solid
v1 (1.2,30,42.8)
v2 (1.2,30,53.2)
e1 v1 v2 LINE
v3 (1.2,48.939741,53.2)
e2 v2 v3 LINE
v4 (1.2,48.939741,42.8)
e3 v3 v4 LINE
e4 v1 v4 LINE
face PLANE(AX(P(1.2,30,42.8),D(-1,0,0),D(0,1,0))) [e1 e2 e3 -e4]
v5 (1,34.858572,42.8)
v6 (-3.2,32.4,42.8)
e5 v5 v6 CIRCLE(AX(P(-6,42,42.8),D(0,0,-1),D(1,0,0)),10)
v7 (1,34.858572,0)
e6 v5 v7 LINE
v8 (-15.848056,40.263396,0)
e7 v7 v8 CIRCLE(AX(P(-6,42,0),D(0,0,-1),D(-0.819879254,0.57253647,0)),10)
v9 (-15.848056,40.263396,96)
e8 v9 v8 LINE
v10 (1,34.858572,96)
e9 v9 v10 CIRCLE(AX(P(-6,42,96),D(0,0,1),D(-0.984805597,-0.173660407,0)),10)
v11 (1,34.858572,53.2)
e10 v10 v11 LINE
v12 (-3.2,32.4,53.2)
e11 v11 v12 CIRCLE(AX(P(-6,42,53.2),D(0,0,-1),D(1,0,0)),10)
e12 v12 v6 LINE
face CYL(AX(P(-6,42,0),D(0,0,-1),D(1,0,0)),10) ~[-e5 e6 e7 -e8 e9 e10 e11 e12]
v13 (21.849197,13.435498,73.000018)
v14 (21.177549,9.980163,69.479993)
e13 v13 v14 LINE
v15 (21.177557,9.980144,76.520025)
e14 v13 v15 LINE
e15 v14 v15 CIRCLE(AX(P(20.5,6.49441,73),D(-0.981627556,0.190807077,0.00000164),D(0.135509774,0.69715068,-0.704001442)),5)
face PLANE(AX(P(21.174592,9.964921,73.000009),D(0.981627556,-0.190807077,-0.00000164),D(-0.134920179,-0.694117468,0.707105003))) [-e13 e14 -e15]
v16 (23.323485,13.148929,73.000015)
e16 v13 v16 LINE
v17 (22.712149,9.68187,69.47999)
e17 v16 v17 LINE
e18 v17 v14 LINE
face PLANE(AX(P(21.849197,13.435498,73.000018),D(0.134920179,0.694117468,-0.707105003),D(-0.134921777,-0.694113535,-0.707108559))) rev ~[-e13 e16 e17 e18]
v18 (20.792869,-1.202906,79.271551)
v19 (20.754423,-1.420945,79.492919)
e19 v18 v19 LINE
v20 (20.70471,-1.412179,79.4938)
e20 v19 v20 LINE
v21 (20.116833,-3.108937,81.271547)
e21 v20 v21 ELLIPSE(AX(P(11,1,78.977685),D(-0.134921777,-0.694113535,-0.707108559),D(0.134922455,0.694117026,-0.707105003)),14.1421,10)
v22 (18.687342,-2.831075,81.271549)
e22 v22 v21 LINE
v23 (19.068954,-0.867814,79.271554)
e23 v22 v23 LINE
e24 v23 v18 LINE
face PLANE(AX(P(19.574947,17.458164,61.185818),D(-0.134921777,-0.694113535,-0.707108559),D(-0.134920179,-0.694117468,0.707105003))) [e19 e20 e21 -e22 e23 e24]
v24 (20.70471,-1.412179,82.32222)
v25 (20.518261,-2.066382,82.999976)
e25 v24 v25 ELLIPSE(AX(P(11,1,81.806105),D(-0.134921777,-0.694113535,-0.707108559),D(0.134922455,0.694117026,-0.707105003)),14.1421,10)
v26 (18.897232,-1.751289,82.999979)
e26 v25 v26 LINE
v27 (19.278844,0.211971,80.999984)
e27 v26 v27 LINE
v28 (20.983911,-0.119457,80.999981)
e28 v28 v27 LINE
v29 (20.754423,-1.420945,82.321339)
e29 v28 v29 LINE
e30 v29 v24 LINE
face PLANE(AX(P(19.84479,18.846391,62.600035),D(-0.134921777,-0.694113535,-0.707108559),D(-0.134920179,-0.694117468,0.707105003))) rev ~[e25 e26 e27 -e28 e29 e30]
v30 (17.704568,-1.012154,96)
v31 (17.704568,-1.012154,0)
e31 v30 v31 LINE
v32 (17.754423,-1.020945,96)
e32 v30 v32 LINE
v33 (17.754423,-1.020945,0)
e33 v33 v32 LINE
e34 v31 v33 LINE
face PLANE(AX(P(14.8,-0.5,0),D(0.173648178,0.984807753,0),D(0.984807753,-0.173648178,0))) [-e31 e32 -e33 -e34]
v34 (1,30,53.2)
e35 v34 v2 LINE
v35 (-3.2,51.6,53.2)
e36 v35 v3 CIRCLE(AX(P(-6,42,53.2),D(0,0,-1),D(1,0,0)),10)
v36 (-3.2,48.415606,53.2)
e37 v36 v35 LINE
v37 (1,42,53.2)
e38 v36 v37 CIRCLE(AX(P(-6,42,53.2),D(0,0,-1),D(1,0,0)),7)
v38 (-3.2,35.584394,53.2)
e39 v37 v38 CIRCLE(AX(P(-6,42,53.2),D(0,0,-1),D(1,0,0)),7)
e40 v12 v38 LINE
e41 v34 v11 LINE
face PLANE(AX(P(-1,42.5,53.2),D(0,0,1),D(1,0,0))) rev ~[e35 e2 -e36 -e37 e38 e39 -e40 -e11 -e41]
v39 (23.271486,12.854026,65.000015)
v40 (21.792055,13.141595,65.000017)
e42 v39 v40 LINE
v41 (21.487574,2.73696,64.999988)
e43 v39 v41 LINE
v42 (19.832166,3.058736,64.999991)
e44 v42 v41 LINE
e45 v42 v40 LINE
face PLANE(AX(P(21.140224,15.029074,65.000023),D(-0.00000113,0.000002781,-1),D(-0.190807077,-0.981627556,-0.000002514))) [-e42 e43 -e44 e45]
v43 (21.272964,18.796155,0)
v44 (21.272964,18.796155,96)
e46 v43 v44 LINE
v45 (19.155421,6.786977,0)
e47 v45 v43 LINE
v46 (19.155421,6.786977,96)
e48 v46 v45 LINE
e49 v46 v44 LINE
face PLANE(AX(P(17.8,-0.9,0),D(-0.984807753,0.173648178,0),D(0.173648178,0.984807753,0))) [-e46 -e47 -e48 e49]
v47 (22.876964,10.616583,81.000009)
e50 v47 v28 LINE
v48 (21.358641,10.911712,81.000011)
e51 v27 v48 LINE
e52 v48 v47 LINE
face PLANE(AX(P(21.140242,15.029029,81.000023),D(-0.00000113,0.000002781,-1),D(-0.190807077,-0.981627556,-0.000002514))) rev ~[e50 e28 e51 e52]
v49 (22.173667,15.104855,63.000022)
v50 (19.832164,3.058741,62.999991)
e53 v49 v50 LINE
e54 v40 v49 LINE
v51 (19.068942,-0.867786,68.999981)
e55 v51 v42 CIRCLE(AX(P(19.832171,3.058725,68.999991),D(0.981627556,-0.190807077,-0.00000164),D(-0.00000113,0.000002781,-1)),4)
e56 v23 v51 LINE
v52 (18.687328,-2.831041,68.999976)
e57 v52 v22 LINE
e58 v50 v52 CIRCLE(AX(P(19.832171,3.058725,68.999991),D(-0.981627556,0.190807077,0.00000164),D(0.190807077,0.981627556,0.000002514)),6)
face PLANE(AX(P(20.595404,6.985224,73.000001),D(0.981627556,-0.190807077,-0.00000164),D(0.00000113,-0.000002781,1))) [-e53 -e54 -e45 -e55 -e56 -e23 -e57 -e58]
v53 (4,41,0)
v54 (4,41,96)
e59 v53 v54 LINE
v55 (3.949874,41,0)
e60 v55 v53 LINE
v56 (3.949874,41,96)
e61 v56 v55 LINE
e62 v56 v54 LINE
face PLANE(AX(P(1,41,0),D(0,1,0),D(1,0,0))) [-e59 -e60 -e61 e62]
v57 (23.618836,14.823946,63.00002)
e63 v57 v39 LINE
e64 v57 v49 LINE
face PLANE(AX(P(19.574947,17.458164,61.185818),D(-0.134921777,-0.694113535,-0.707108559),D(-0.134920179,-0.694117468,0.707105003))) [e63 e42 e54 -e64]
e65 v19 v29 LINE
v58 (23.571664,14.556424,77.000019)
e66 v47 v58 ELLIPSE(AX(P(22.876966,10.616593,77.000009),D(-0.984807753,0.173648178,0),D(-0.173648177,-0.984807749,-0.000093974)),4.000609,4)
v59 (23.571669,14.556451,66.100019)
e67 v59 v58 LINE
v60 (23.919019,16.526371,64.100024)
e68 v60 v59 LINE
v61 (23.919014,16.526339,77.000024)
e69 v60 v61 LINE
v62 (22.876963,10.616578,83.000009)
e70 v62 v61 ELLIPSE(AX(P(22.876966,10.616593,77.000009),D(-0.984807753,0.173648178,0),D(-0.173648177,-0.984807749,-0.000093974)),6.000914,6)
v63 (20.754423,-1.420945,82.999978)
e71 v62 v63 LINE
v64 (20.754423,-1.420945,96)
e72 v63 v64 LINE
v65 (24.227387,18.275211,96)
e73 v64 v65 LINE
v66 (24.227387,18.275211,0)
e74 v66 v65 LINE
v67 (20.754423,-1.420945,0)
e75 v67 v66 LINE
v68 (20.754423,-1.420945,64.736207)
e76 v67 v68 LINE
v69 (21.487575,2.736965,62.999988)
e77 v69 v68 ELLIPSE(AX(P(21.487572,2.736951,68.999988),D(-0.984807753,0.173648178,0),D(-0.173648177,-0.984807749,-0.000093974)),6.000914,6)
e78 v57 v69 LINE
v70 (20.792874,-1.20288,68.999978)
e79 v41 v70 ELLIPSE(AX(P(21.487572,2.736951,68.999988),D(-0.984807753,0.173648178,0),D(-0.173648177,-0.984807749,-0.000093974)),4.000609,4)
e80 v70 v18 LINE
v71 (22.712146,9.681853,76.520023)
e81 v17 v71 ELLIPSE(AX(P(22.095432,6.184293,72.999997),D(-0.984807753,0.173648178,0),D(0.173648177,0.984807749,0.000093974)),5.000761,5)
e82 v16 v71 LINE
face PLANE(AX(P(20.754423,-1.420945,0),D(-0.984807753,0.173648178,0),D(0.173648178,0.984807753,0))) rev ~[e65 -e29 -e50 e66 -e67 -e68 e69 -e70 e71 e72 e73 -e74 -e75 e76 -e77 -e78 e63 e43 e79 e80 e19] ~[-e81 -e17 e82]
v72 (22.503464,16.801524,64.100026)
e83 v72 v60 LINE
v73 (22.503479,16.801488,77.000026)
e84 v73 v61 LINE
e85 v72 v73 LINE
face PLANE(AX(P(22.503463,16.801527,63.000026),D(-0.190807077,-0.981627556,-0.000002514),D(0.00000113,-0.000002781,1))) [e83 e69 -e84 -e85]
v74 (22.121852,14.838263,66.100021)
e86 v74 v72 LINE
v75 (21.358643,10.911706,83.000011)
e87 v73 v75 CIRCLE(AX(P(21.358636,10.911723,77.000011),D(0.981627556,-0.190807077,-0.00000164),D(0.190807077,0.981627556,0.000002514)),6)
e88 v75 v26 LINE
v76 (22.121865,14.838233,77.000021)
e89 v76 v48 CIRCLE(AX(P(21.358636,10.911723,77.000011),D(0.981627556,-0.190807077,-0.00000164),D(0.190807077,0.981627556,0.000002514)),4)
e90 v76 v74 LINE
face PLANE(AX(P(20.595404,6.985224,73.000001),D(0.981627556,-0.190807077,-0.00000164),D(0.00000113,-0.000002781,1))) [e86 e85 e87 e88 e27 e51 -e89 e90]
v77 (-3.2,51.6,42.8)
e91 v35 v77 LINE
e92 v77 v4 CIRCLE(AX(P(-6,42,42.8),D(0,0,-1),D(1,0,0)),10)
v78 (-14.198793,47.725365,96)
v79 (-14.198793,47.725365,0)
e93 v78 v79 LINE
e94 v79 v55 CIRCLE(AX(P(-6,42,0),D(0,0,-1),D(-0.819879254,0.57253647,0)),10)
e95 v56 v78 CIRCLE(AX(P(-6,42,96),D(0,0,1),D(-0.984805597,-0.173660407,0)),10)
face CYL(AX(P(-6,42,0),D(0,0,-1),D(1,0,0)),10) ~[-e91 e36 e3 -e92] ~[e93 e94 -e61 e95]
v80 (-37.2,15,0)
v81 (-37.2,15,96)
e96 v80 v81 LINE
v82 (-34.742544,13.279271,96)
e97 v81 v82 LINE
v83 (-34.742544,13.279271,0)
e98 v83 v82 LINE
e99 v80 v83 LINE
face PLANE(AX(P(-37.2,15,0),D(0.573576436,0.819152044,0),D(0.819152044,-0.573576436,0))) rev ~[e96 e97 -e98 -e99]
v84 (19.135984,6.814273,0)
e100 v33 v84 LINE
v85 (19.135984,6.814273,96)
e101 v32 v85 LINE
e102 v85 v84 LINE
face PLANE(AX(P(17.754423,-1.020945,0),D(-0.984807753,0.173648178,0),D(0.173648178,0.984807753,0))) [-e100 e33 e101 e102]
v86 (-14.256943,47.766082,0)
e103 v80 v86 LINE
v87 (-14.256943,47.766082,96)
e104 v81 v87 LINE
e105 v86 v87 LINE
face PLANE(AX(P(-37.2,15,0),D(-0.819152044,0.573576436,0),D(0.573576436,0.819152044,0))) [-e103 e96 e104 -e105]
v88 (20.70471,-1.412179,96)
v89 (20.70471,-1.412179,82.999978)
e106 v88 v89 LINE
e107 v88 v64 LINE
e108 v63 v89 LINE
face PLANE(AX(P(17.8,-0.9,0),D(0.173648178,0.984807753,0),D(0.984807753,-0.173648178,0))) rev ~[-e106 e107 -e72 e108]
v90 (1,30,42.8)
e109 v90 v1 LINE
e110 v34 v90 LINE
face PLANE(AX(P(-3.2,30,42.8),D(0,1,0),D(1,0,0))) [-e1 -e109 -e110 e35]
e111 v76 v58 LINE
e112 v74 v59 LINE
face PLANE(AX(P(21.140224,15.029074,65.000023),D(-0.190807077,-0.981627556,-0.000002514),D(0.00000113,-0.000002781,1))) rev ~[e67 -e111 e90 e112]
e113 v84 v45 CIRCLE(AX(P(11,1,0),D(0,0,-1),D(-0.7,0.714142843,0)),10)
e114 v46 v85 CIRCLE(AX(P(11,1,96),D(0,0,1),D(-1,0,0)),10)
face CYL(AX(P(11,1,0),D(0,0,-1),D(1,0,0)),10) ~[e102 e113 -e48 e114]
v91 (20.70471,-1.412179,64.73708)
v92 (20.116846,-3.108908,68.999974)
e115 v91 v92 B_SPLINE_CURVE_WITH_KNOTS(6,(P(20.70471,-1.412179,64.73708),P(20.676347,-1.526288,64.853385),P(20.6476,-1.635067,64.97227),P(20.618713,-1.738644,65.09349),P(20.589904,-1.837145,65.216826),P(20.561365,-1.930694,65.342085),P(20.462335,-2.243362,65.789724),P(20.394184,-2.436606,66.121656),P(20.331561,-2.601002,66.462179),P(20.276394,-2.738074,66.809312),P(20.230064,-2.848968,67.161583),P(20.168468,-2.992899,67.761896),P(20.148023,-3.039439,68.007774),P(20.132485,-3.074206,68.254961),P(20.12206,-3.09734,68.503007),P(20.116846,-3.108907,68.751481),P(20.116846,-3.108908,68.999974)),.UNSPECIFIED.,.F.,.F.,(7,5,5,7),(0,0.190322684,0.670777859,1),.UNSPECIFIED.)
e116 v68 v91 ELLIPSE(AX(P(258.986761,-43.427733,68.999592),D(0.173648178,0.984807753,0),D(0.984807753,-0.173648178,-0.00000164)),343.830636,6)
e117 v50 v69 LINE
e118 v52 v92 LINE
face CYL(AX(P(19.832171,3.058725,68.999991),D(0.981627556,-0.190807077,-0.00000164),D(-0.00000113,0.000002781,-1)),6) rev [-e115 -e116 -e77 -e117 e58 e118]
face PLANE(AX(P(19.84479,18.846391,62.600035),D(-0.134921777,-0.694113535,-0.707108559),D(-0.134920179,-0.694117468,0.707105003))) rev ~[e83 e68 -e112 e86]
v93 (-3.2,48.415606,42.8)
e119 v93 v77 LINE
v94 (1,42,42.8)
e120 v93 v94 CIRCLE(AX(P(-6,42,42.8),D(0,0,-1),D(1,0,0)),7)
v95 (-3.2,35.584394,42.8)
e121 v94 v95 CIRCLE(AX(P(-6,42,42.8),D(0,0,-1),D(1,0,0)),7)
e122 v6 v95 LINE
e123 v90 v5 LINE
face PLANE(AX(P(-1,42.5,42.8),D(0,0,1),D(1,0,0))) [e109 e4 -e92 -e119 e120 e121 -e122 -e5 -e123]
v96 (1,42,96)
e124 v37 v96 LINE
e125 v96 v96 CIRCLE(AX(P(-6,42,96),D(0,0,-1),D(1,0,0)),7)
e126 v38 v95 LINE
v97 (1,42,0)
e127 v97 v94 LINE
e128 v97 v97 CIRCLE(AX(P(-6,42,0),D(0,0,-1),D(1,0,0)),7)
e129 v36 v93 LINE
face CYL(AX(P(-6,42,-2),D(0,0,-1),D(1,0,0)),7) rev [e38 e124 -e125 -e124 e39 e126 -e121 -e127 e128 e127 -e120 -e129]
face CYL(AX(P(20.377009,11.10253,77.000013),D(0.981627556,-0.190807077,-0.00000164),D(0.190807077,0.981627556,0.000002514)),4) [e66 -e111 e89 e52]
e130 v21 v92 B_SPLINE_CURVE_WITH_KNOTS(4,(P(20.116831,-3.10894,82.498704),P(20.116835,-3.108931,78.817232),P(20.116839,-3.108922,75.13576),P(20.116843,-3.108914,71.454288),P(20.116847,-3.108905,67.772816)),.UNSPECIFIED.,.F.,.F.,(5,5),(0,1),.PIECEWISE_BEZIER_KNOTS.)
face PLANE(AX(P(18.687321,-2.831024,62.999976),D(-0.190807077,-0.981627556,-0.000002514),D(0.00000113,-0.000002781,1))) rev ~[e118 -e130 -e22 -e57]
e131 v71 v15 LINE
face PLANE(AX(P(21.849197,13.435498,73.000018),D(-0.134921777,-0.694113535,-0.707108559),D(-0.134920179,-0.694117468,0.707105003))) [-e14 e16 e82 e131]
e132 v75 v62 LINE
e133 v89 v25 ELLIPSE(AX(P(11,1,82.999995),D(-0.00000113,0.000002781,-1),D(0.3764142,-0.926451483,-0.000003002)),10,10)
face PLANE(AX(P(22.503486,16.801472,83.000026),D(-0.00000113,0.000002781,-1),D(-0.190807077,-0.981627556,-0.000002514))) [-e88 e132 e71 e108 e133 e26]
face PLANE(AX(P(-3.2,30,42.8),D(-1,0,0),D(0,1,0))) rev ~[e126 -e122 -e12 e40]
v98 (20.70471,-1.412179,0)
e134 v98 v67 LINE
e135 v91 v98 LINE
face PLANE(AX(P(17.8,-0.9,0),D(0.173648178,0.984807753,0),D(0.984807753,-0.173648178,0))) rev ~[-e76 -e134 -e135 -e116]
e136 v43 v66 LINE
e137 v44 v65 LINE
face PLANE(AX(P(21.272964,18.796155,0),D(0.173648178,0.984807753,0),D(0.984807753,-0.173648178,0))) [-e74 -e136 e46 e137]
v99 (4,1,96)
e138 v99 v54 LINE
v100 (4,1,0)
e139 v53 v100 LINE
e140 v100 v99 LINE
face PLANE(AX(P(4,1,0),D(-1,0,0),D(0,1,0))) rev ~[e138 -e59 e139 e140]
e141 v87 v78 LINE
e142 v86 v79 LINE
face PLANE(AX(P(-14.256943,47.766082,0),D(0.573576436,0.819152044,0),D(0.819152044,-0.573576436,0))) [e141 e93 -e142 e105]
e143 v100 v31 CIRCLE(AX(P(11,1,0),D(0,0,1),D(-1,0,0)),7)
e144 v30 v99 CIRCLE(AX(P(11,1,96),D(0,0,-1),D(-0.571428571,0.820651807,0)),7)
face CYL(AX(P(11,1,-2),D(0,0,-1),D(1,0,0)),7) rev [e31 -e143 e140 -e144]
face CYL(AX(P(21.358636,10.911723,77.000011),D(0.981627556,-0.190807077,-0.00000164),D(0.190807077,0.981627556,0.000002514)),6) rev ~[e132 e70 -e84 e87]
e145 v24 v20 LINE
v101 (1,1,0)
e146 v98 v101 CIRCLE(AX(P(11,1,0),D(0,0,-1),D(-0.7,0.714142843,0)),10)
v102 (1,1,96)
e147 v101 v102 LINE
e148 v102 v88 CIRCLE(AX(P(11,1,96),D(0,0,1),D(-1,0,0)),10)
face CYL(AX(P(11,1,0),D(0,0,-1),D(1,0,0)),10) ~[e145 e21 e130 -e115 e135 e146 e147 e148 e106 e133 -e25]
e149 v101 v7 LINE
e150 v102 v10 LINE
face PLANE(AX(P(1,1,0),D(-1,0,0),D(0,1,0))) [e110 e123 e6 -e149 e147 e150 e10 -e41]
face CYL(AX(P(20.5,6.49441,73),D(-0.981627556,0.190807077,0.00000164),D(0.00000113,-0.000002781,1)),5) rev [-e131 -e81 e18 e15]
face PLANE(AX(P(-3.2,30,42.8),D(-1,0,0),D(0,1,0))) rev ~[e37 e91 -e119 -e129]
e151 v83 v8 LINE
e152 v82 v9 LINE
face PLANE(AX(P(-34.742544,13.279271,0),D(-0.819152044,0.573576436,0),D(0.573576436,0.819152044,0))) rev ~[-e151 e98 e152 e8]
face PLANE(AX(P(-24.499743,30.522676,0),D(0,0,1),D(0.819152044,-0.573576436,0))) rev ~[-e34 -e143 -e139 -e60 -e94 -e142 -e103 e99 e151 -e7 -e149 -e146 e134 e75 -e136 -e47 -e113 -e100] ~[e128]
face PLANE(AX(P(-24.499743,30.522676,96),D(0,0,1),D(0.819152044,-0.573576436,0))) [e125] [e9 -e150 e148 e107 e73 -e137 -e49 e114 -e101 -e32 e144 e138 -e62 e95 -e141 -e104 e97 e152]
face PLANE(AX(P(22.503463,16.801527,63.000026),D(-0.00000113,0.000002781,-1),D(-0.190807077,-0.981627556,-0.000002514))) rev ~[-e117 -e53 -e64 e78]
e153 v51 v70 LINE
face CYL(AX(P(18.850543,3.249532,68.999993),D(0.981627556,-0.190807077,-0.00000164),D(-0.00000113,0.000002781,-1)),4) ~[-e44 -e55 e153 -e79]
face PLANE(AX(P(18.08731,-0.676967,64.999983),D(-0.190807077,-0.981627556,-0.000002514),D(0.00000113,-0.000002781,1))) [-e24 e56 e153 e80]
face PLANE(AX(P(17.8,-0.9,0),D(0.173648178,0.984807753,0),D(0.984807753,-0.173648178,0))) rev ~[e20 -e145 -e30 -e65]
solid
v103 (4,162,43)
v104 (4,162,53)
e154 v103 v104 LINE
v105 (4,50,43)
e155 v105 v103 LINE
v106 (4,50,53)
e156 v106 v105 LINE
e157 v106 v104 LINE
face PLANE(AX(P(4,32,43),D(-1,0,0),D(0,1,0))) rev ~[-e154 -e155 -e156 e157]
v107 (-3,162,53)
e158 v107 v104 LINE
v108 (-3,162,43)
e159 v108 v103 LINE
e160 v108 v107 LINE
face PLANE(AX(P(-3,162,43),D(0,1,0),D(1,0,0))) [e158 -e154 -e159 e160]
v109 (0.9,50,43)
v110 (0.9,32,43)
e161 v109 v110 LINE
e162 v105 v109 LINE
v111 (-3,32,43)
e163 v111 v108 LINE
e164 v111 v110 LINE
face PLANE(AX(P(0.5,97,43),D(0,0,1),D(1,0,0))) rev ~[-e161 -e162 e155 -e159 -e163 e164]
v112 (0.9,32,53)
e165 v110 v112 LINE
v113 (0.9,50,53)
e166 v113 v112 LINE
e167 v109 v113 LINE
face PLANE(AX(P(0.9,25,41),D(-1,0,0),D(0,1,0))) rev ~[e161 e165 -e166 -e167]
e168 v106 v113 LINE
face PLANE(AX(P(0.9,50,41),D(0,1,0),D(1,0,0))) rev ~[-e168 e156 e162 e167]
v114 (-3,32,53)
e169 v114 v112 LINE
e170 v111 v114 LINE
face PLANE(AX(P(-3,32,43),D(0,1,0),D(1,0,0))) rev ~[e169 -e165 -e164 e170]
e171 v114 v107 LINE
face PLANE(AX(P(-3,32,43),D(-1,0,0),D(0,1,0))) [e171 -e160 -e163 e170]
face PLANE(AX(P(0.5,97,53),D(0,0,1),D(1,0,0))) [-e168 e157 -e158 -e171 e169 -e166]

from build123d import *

# Parameters (mm, degrees)
BOX011_W                  = 10
BOX011_H                  = 25
BOX011_DEPTH              = 13
BOX010_W                  = 7
BOX010_H                  = 130
BOX010_DEPTH              = 10
BOX006_W                  = 5
BOX006_H                  = 5
BOX006_DEPTH              = 3
BOX006_PLACEMENT_ANGLE    = 45
CYLINDER005_R             = 5
CYLINDER005_DEPTH         = 3
BOX008_W                  = 34
BOX008_H                  = 2
BOX008_DEPTH              = 10
BOX008_PLACEMENT_ANGLE    = 45
BOX007_W                  = 16
BOX007_H                  = 16
BOX007_DEPTH              = 6
FILLET_R                  = 4
FILLET001_R               = 4
BOX009_W                  = 20
BOX009_H                  = 20
BOX009_DEPTH              = 3
FILLET002_R               = 6
FILLET003_R               = 6
FUSION005_ROLL_ANGLE      = -123.111634
FUSION005_PITCH_ANGLE     = -89.999828
FUSION005_PLACEMENT_ANGLE = -67.888254
BOX005_W                  = 12
BOX005_H                  = 10
BOX005_DEPTH              = 100
BOX005_PLACEMENT_ANGLE    = -9
BOX004_W                  = 3
BOX004_H                  = 20
BOX004_DEPTH              = 96
BOX004_PLACEMENT_ANGLE    = -10
BOX_W                     = 3
BOX_H                     = 40
BOX_DEPTH                 = 96
BOX012_W                  = 4.4
BOX012_H                  = 25
BOX012_DEPTH              = 10.4
CYLINDER003_R             = 7
CYLINDER003_DEPTH         = 100
CYLINDER004_R             = 7
CYLINDER004_DEPTH         = 102
BOX001_W                  = 3
BOX001_H                  = 40
BOX001_DEPTH              = 96
BOX001_PLACEMENT_ANGLE    = -35
CYLINDER_R                = 10
CYLINDER_DEPTH            = 96
BOX002_W                  = 3
BOX002_H                  = 40
BOX002_DEPTH              = 96
CYLINDER002_R             = 10
CYLINDER002_DEPTH         = 96
BOX003_W                  = 3
BOX003_H                  = 20
BOX003_DEPTH              = 96
BOX003_PLACEMENT_ANGLE    = -10


with BuildPart() as cube011:
    # Box011 → Box011 (new body)
    with BuildSketch(Plane(origin=(0.9, 25, 41), x_dir=(1, 0, 0), z_dir=(0, 0, 1))):
        with Locations((5, 12.5)):
            Rectangle(BOX011_W, BOX011_H)
    extrude(amount=BOX011_DEPTH)


with BuildPart() as stick:
    # Box010 → Box010 (new body)
    with BuildSketch(Plane(origin=(-3, 32, 43), x_dir=(1, 0, 0), z_dir=(0, 0, 1))):
        with Locations((3.5, 65)):
            Rectangle(BOX010_W, BOX010_H)
    extrude(amount=BOX010_DEPTH)

    # Cut008: cut Cube011
    add(cube011.part, mode=Mode.SUBTRACT)


with BuildPart() as cube006:
    # Box006 → Box006 (new body)
    with BuildSketch(Plane.XY):
        with Locations((2.5, 2.5)):
            Rectangle(BOX006_W, BOX006_H)
    extrude(amount=BOX006_DEPTH)


with BuildPart() as cube006_1:
    # Box006 placement: moved
    add(cube006.part.moved(Location((0, -7.071, 0))).rotate(Axis((0, -7.071, 0), (0, 0, 1)), BOX006_PLACEMENT_ANGLE))


with BuildPart() as fusion004:
    # Cylinder005 → Cylinder005 (new body)
    with BuildSketch(Plane.XY):
        Circle(CYLINDER005_R)
    extrude(amount=CYLINDER005_DEPTH)

    # Fusion004: union Cube006
    add(cube006_1.part)


with BuildPart() as cube008:
    # Box008 → Box008 (new body)
    with BuildSketch(Plane.XY):
        with Locations((17, 1)):
            Rectangle(BOX008_W, BOX008_H)
    extrude(amount=BOX008_DEPTH)


with BuildPart() as cube008_1:
    # Box008 placement: moved
    add(cube008.part.moved(Location((-10.4, -12, -3))).rotate(Axis((-10.4, -12, -3), (0, 0, 1)), BOX008_PLACEMENT_ANGLE))


with BuildPart() as fillet001:
    # Box007 → Box007 (new body)
    with BuildSketch(Plane(origin=(-8, -8.5, -1), x_dir=(1, 0, 0), z_dir=(0, 0, 1))):
        with Locations((8, 8)):
            Rectangle(BOX007_W, BOX007_H)
    extrude(amount=BOX007_DEPTH)

    # Fillet
    fillet_edges = [fillet001.edges().sort_by_distance(p)[0] for p in [
        (-8, 7.5, 2),
    ]]
    fillet(fillet_edges, radius=FILLET_R)

    # Fillet001
    fillet001_edges = [fillet001.edges().sort_by_distance(p)[0] for p in [
        (8, -8.5, 2),
    ]]
    fillet(fillet001_edges, radius=FILLET001_R)


with BuildPart() as rrp_logo:
    # Box009 → Box009 (new body)
    with BuildSketch(Plane(origin=(-10, -10.5, 0), x_dir=(1, 0, 0), z_dir=(0, 0, 1))):
        with Locations((10, 10)):
            Rectangle(BOX009_W, BOX009_H)
    extrude(amount=BOX009_DEPTH)

    # Fillet002
    fillet002_edges = [rrp_logo.edges().sort_by_distance(p)[0] for p in [
        (10, -10.5, 1.5),
    ]]
    fillet(fillet002_edges, radius=FILLET002_R)

    # Fillet003
    fillet003_edges = [rrp_logo.edges().sort_by_distance(p)[0] for p in [
        (-10, 9.5, 1.5),
    ]]
    fillet(fillet003_edges, radius=FILLET003_R)

    # Cut005: cut Fillet001
    add(fillet001.part, mode=Mode.SUBTRACT)

    # Cut006: cut Cube008
    add(cube008_1.part, mode=Mode.SUBTRACT)

    # Fusion005: union Fusion004
    add(fusion004.part)


with BuildPart() as rrp_logo_1:
    # Fusion005 roll: moved
    add(rrp_logo.part.rotate(Axis((0, 0, 0), (1, 0, 0)), FUSION005_ROLL_ANGLE))


with BuildPart() as rrp_logo_2:
    # Fusion005 pitch: moved
    add(rrp_logo_1.part.rotate(Axis((0, 0, 0), (0, 1, 0)), FUSION005_PITCH_ANGLE))


with BuildPart() as rrp_logo_3:
    # Fusion005 placement: moved
    add(rrp_logo_2.part.moved(Location((20.5, 6.49441, 73))).rotate(Axis((20.5, 6.49441, 73), (0, 0, 1)), FUSION005_PLACEMENT_ANGLE))


with BuildPart() as cube:
    # Box005 → Box005 (new body)
    with BuildSketch(Plane.XY):
        with Locations((6, 5)):
            Rectangle(BOX005_W, BOX005_H)
    extrude(amount=BOX005_DEPTH)


with BuildPart() as cube_1:
    # Box005 placement: moved
    add(cube.part.moved(Location((5, 6, -1))).rotate(Axis((5, 6, -1), (0, 0, 1)), BOX005_PLACEMENT_ANGLE))


with BuildPart() as cube005:
    # Box004 → Box004 (new body)
    with BuildSketch(Plane.XY):
        with Locations((1.5, 10)):
            Rectangle(BOX004_W, BOX004_H)
    extrude(amount=BOX004_DEPTH)


with BuildPart() as cube005_1:
    # Box004 placement: moved
    add(cube005.part.moved(Location((14.8, -0.5, 0))).rotate(Axis((14.8, -0.5, 0), (0, 0, 1)), BOX004_PLACEMENT_ANGLE))


with BuildPart() as cube004:
    # Box → Box (new body)
    with BuildSketch(Plane(origin=(4, 1, 0), x_dir=(1, 0, 0), z_dir=(0, 0, 1))):
        with Locations((1.5, 20)):
            Rectangle(BOX_W, BOX_H)
    extrude(amount=BOX_DEPTH)


with BuildPart() as cube012:
    # Box012 → Box012 (new body)
    with BuildSketch(Plane(origin=(-3.2, 30, 42.8), x_dir=(1, 0, 0), z_dir=(0, 0, 1))):
        with Locations((2.2, 12.5)):
            Rectangle(BOX012_W, BOX012_H)
    extrude(amount=BOX012_DEPTH)


with BuildPart() as cylinder003:
    # Cylinder003 → Cylinder003 (new body)
    with BuildSketch(Plane(origin=(-6, 42, -2), x_dir=(1, 0, 0), z_dir=(0, 0, 1))):
        Circle(CYLINDER003_R)
    extrude(amount=CYLINDER003_DEPTH)


with BuildPart() as cylinder004:
    # Cylinder004 → Cylinder004 (new body)
    with BuildSketch(Plane(origin=(11, 1, -2), x_dir=(1, 0, 0), z_dir=(0, 0, 1))):
        Circle(CYLINDER004_R)
    extrude(amount=CYLINDER004_DEPTH)


with BuildPart() as cube001:
    # Box001 → Box001 (new body)
    with BuildSketch(Plane.XY):
        with Locations((1.5, 20)):
            Rectangle(BOX001_W, BOX001_H)
    extrude(amount=BOX001_DEPTH)


with BuildPart() as cube001_1:
    # Box001 placement: moved
    add(cube001.part.moved(Location((-37.2, 15, 0))).rotate(Axis((-37.2, 15, 0), (0, 0, 1)), BOX001_PLACEMENT_ANGLE))


with BuildPart() as fusion:
    # Cylinder → Cylinder (new body)
    with BuildSketch(Plane(origin=(-6, 42, 0), x_dir=(1, 0, 0), z_dir=(0, 0, 1))):
        Circle(CYLINDER_R)
    extrude(amount=CYLINDER_DEPTH)

    # Fusion: union Cube001
    add(cube001_1.part)


with BuildPart() as fusion006:
    # Box002 → Box002 (new body)
    with BuildSketch(Plane(origin=(1, 1, 0), x_dir=(1, 0, 0), z_dir=(0, 0, 1))):
        with Locations((1.5, 20)):
            Rectangle(BOX002_W, BOX002_H)
    extrude(amount=BOX002_DEPTH)

    # Fusion006: union Fusion
    add(fusion.part)


with BuildPart() as cut011:
    # Cylinder002 → Cylinder002 (new body)
    with BuildSketch(Plane(origin=(11, 1, 0), x_dir=(1, 0, 0), z_dir=(0, 0, 1))):
        Circle(CYLINDER002_R)
    extrude(amount=CYLINDER002_DEPTH)

    # Fusion007: union Fusion006
    add(fusion006.part)

    # Cut: cut Cylinder004
    add(cylinder004.part, mode=Mode.SUBTRACT)

    # Cut009: cut Cylinder003
    add(cylinder003.part, mode=Mode.SUBTRACT)

    # Cut010: cut Cube012
    add(cube012.part, mode=Mode.SUBTRACT)

    # Cut011: cut Cube004
    add(cube004.part, mode=Mode.SUBTRACT)


with BuildPart() as holder:
    # Box003 → Box003 (new body)
    with BuildSketch(Plane.XY):
        with Locations((1.5, 10)):
            Rectangle(BOX003_W, BOX003_H)
    extrude(amount=BOX003_DEPTH)


with BuildPart() as holder_1:
    # Box003 placement: moved
    add(holder.part.moved(Location((17.8, -0.9, 0))).rotate(Axis((17.8, -0.9, 0), (0, 0, 1)), BOX003_PLACEMENT_ANGLE))

    # Fusion008: union Cut011
    add(cut011.part)

    # Cut012: cut Cube005
    add(cube005_1.part, mode=Mode.SUBTRACT)

    # Cut013: cut Cube
    add(cube_1.part, mode=Mode.SUBTRACT)

    # Cut014: cut rrp-logo
    add(rrp_logo_3.part, mode=Mode.SUBTRACT)


solid = Compound([stick.part, holder_1.part])
